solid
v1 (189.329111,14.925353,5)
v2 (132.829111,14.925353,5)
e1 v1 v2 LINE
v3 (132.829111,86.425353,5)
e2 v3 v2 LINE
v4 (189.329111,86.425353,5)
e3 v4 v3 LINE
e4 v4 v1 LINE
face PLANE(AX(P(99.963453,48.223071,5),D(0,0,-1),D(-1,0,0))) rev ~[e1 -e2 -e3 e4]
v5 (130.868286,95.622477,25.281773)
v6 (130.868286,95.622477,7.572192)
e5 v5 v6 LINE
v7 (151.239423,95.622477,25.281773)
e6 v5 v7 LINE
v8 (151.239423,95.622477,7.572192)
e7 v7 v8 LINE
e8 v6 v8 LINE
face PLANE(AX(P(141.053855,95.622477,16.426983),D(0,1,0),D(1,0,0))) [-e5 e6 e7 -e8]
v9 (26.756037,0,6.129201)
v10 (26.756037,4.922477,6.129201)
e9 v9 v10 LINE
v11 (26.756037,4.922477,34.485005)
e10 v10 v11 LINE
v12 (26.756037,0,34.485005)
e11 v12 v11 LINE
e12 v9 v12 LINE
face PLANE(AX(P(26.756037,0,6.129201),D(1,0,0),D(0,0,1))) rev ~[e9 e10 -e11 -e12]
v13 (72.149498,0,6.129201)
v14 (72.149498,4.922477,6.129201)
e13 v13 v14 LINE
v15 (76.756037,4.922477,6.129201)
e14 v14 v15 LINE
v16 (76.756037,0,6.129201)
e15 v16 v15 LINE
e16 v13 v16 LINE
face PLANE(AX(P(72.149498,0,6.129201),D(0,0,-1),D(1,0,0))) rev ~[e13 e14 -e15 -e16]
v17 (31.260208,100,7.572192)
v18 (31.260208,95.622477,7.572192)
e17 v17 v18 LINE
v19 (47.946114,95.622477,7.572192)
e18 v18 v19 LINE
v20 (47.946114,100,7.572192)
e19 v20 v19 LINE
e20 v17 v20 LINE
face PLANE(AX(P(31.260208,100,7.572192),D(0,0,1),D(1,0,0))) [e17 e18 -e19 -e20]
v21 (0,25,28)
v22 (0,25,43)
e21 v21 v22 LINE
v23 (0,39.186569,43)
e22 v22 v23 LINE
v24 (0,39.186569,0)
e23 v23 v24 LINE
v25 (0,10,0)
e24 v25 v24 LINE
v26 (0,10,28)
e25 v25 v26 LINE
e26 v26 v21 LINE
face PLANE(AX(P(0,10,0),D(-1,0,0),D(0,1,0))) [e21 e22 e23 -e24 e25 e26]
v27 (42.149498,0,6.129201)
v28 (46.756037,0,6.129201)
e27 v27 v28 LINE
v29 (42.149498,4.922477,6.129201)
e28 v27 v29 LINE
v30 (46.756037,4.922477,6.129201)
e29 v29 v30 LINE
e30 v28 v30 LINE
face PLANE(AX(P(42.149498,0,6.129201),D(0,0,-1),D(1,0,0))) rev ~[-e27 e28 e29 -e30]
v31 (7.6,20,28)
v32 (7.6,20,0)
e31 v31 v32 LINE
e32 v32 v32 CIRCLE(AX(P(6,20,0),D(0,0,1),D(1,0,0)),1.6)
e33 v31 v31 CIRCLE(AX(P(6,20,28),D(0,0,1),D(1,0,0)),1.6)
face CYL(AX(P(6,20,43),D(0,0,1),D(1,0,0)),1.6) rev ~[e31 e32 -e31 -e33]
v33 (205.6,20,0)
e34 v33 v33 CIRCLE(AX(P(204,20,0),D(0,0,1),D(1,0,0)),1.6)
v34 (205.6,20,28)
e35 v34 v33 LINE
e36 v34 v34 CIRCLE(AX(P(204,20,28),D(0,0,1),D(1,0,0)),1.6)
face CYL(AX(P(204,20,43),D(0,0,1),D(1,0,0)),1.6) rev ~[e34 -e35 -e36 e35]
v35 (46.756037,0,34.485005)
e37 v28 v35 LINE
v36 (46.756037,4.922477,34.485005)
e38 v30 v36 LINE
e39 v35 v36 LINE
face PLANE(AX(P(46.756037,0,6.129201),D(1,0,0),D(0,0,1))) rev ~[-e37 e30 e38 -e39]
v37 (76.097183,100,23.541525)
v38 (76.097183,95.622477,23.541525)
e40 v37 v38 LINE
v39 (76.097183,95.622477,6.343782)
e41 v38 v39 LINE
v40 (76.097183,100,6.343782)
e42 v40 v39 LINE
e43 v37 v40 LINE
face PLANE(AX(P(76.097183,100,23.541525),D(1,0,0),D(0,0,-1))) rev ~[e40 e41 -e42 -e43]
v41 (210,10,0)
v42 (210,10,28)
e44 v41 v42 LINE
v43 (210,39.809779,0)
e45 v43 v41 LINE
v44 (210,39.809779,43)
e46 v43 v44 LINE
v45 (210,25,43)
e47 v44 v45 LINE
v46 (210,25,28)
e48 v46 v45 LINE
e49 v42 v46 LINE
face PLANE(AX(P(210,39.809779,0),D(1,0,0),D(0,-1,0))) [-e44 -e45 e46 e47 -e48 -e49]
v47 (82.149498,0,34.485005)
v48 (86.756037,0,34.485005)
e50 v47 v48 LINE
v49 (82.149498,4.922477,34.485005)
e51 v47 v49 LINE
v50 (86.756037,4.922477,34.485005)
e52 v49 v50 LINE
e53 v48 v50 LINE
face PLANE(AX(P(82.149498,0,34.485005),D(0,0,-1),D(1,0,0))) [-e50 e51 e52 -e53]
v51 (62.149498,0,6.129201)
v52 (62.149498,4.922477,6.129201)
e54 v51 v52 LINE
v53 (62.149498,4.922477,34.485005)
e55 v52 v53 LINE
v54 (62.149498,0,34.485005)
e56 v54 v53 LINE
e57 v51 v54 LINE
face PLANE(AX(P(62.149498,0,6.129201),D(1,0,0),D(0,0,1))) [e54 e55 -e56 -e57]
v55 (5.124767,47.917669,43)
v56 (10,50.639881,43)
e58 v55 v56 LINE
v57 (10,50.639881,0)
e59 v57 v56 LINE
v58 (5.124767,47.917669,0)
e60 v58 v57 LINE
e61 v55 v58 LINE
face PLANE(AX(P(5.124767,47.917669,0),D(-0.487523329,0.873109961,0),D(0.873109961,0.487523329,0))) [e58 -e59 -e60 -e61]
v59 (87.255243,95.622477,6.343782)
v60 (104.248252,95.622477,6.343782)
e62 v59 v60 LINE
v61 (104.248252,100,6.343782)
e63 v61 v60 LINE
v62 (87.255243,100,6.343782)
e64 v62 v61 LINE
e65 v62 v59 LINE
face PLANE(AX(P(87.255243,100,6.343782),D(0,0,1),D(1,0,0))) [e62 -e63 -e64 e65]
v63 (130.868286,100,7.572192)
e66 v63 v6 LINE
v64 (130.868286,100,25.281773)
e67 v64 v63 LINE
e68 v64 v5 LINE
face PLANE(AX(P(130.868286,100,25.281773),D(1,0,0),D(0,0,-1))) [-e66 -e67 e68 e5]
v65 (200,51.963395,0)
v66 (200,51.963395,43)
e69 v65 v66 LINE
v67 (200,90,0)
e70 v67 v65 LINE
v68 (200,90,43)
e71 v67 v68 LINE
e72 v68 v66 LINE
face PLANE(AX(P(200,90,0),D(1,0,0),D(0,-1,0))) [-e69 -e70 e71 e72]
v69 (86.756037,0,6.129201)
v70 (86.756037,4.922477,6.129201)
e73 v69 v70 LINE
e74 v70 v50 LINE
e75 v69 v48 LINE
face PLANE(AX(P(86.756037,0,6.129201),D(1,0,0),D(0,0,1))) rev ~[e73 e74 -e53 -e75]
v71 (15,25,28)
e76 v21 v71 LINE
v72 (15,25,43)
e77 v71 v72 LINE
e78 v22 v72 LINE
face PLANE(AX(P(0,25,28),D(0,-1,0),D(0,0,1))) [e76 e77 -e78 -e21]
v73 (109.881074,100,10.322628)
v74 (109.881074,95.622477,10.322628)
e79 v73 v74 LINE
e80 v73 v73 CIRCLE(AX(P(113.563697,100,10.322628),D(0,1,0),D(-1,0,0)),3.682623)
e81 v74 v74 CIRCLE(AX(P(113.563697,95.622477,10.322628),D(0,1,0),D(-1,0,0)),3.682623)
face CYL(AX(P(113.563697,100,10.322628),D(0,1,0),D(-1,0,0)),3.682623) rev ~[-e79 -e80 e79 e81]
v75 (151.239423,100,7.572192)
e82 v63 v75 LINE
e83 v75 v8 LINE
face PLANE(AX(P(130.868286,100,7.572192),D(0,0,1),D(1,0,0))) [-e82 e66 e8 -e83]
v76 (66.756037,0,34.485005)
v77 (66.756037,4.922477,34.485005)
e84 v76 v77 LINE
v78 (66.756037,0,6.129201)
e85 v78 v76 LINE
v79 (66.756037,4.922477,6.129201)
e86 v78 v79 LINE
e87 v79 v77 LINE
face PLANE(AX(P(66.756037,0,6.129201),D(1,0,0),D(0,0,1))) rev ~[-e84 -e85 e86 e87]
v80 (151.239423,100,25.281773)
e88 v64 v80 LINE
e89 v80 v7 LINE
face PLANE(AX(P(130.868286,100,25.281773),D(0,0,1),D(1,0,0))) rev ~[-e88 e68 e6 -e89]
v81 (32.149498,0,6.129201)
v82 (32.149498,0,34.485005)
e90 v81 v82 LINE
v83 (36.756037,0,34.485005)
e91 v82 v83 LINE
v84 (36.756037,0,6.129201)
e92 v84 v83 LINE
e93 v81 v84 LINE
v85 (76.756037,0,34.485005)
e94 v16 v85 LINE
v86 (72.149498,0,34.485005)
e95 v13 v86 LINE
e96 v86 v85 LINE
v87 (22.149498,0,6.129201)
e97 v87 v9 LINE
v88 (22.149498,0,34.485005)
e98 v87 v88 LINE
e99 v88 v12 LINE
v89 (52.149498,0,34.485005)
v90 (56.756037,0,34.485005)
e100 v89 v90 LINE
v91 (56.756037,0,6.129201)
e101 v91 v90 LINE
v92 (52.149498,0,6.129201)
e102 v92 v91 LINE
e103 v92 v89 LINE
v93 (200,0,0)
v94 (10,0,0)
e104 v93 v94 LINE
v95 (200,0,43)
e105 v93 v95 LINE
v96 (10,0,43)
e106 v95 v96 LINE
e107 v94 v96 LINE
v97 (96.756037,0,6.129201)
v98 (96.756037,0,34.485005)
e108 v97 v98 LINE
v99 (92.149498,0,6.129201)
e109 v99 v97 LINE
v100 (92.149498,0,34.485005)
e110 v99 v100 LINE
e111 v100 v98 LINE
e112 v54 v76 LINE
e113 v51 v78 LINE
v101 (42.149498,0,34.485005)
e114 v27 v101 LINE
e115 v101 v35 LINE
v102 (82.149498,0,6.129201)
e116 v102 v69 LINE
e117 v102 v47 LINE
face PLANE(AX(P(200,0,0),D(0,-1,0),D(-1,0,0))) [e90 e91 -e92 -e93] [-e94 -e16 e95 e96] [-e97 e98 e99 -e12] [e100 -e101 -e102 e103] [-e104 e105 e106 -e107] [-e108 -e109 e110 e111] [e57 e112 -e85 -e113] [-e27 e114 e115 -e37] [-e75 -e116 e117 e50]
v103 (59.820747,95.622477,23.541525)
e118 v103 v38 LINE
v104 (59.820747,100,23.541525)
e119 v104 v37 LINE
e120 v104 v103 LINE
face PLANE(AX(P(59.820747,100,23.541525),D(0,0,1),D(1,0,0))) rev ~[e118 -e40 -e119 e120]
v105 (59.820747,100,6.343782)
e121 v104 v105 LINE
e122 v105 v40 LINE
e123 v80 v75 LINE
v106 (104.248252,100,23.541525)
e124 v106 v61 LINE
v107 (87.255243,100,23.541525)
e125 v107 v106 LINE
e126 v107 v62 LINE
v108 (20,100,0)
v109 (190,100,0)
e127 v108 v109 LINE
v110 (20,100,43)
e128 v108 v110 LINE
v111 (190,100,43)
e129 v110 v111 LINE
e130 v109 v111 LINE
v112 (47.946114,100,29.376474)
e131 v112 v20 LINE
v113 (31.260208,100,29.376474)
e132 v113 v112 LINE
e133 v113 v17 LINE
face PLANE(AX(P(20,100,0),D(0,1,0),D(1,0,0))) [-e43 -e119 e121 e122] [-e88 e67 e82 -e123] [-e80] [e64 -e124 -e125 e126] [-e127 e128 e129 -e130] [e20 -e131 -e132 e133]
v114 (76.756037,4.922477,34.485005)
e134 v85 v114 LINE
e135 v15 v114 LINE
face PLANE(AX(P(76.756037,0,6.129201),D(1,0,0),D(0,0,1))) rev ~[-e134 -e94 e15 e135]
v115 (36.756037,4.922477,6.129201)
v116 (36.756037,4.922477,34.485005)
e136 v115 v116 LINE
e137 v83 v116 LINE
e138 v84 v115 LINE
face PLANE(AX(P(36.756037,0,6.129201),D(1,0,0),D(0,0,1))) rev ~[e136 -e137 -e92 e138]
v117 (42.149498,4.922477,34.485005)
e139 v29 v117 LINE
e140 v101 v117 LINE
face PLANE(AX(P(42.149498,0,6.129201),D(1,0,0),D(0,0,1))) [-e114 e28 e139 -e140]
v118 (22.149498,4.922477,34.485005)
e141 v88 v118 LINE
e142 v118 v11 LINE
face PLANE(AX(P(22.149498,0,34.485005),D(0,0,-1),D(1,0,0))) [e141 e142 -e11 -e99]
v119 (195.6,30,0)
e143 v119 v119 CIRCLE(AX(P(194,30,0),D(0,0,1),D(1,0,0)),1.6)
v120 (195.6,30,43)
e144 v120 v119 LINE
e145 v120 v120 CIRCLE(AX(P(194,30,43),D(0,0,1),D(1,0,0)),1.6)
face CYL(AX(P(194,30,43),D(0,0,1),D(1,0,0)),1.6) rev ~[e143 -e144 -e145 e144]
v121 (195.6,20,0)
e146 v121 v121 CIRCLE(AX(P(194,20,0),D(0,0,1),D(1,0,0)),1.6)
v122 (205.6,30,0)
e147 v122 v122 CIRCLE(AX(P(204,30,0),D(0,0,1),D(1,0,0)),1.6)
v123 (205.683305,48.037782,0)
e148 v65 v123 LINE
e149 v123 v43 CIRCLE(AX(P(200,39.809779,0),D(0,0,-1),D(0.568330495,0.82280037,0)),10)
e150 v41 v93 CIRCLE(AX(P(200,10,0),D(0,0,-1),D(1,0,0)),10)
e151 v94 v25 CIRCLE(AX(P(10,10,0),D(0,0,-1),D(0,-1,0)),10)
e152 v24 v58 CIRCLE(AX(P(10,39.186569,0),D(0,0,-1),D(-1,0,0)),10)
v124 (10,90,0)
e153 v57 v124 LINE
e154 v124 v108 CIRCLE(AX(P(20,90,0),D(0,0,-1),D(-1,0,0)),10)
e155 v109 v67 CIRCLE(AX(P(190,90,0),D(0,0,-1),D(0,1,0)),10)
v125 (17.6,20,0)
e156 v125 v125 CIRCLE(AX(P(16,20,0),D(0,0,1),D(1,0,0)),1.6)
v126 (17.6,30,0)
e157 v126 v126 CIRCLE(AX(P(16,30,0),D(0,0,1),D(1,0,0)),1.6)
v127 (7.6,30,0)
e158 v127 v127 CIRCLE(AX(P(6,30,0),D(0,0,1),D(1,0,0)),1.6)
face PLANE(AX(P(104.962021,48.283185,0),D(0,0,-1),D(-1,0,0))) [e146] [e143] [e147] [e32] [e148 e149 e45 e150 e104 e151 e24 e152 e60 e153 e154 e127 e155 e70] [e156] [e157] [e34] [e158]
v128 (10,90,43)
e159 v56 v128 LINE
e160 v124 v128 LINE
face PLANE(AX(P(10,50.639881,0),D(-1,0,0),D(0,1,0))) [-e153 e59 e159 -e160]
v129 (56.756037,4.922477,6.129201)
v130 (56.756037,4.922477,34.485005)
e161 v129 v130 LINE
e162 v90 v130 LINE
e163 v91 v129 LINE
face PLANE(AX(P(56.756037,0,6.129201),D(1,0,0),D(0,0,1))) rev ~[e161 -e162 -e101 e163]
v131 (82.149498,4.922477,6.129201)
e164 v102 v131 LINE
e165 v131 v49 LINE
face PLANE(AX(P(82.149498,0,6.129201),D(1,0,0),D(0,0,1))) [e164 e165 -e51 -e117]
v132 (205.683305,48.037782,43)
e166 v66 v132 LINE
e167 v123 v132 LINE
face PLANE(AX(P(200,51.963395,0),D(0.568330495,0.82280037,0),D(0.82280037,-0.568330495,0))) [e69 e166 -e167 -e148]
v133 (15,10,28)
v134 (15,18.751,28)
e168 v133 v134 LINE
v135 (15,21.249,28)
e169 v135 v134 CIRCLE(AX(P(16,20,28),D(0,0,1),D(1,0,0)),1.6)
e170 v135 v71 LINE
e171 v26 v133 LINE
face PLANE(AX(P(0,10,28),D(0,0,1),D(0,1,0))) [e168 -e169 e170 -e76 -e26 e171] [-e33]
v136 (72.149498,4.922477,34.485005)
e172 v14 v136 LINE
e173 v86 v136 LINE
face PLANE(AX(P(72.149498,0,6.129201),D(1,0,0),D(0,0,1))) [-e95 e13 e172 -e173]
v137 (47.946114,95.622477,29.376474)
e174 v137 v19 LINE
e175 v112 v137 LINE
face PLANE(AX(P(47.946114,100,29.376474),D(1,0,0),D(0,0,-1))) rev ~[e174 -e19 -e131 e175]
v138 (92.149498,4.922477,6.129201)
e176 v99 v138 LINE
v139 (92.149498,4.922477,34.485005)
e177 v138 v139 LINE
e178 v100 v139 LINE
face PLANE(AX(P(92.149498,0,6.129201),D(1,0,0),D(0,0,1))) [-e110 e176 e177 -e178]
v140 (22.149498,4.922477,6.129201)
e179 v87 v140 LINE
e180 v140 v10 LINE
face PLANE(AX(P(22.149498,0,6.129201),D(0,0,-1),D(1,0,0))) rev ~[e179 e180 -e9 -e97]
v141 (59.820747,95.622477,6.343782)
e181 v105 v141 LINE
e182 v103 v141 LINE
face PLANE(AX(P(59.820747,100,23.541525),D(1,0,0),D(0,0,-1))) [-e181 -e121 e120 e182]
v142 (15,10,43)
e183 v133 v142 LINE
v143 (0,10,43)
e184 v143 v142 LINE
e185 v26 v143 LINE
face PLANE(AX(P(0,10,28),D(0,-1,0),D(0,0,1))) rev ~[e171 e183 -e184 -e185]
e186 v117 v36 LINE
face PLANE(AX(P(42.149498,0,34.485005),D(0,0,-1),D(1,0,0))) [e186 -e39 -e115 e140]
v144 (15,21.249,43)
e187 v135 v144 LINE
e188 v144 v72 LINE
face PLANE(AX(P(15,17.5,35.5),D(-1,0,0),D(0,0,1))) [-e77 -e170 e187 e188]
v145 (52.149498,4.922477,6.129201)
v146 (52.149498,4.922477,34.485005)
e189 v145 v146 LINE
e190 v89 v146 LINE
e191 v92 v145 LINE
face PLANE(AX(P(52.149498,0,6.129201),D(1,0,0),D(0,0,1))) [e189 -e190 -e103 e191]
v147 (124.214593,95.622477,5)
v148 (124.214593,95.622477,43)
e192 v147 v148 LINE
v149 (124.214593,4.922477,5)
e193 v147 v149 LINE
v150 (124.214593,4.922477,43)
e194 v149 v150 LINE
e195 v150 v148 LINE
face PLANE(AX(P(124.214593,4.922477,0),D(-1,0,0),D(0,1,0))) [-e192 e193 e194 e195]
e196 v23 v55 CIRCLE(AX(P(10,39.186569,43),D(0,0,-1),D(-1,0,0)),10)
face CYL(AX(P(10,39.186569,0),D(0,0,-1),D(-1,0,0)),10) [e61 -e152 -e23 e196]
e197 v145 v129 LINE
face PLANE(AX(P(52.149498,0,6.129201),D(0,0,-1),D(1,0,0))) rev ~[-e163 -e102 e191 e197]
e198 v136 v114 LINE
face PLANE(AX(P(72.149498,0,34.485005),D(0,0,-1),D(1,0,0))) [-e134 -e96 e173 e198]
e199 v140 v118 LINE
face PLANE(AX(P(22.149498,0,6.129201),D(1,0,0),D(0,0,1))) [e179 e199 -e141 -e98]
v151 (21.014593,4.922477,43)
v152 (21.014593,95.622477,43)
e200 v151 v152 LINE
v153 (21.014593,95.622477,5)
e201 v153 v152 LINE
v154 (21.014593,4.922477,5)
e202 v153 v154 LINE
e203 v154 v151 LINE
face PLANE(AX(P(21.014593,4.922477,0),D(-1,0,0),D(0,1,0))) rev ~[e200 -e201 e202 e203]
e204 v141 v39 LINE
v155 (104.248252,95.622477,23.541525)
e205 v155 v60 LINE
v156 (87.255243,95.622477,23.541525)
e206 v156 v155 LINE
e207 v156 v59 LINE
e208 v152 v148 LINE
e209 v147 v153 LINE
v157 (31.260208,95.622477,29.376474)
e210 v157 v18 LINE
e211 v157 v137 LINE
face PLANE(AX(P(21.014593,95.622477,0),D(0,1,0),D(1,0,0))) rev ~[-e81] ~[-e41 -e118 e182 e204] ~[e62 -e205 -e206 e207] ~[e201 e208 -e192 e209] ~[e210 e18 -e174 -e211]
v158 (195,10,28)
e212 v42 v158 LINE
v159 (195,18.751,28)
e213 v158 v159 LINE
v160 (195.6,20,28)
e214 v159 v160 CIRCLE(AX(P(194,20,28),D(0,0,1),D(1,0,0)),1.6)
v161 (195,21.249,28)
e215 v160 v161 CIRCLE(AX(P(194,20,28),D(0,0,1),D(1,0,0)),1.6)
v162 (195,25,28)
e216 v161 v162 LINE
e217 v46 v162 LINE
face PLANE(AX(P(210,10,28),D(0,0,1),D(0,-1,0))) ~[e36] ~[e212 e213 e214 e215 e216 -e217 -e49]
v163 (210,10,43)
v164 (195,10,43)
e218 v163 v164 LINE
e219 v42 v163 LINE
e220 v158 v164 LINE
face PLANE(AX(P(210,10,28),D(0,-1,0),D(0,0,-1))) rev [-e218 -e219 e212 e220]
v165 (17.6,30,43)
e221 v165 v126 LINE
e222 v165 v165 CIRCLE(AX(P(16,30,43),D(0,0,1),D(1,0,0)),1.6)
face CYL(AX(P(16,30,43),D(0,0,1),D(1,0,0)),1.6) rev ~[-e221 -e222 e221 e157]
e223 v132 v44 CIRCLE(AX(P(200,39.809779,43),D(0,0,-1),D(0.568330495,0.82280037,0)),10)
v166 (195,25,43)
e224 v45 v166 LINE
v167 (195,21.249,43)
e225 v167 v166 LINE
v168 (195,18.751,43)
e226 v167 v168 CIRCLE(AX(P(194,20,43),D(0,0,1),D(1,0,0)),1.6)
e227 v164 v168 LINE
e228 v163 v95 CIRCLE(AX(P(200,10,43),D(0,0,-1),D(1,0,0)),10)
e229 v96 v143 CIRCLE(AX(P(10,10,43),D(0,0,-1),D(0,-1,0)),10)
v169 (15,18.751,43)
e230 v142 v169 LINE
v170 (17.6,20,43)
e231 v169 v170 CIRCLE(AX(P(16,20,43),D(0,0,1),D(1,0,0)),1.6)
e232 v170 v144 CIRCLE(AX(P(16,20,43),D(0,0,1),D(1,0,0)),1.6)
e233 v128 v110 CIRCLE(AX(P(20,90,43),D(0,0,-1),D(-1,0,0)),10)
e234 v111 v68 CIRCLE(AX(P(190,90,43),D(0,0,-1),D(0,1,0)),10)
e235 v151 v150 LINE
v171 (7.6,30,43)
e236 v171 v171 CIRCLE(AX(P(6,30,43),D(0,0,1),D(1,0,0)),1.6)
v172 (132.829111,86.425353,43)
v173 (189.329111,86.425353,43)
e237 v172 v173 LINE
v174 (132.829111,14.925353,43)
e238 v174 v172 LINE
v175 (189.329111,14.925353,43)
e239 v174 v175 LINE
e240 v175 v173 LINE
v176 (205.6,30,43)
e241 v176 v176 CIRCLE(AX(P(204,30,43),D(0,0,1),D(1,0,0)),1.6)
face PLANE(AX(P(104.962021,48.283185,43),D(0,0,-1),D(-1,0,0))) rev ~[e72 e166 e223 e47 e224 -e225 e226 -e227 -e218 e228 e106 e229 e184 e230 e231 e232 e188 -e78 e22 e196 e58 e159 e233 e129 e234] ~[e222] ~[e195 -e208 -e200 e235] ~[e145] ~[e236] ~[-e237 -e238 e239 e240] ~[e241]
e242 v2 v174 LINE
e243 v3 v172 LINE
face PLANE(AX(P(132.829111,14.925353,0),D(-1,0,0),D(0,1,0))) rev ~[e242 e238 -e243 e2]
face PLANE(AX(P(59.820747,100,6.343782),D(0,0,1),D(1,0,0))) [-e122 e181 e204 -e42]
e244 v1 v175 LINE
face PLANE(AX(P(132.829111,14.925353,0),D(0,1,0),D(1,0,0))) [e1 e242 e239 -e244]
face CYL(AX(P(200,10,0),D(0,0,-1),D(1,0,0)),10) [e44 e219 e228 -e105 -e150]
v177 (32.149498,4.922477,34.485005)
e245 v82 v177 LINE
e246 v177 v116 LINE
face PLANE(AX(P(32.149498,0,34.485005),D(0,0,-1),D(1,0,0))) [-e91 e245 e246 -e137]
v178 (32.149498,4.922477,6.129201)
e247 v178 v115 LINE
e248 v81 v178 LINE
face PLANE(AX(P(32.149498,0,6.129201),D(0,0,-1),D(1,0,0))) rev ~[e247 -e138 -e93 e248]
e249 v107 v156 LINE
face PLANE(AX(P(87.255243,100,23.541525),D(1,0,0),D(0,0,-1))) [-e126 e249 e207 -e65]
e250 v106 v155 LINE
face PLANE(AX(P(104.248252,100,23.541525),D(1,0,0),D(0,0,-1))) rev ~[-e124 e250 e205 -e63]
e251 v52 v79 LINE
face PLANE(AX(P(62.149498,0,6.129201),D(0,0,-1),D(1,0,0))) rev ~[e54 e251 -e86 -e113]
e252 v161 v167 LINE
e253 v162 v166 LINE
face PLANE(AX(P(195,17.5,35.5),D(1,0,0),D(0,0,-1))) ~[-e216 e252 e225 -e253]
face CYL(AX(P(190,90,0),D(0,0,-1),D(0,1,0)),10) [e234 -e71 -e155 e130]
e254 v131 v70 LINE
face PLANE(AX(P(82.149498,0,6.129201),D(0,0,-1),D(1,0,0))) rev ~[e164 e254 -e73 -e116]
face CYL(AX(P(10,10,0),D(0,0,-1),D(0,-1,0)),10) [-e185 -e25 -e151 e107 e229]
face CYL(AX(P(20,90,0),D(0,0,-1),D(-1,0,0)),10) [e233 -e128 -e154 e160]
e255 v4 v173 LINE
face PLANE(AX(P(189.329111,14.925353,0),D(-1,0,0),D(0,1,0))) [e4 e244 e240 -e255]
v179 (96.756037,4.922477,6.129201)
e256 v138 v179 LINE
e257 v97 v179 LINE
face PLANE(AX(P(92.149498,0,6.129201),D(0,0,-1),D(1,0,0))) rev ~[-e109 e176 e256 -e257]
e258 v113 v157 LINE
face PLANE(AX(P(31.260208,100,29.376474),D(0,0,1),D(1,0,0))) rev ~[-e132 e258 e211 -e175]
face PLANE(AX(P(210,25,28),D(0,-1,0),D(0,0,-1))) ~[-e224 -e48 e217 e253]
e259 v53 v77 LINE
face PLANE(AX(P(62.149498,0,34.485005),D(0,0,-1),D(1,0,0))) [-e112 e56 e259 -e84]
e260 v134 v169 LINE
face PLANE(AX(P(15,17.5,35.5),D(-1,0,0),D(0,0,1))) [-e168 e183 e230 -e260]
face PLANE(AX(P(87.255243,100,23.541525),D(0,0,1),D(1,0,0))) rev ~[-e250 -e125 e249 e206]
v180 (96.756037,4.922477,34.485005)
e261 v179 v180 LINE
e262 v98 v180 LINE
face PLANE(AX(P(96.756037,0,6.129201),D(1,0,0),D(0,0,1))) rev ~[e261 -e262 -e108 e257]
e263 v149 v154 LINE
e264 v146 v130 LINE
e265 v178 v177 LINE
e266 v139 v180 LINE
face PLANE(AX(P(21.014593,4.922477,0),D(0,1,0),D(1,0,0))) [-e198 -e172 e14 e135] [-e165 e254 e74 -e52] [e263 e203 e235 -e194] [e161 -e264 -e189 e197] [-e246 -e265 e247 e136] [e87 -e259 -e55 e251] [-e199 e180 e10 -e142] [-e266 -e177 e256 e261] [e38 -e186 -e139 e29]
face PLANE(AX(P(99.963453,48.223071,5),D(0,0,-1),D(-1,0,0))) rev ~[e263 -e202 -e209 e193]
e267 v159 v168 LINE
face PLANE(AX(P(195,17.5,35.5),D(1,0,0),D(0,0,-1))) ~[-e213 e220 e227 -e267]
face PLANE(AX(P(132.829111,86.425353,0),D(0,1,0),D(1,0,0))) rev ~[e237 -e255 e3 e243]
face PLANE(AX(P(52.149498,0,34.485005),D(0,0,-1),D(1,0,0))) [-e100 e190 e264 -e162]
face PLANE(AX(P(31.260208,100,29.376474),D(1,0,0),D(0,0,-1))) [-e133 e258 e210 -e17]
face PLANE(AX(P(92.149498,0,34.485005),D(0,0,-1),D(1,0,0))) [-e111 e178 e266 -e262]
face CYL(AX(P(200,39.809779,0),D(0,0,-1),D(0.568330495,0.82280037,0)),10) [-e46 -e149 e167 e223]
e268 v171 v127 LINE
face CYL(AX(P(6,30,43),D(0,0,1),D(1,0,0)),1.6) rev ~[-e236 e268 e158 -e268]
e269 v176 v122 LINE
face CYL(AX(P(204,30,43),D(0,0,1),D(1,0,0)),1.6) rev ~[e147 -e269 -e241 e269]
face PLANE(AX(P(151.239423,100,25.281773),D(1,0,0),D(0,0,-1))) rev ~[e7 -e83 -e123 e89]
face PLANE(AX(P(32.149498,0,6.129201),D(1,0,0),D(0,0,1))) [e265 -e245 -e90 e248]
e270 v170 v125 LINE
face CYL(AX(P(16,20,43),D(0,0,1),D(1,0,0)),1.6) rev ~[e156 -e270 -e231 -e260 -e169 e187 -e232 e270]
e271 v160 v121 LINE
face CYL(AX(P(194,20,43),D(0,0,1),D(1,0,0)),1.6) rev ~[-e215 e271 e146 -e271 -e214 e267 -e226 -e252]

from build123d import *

# Parameters (mm, degrees)
SKETCH_1_W          = 103.2
SKETCH_1_H          = 90.7
SKETCH_1_W_2        = 56.5
SKETCH_1_H_2        = 71.5
EXTRUDE_1_DEPTH     = 43
EXTRUDE_3_DEPTH     = 5
SKETCH_4_R          = 3.682623049
SKETCH_4_W          = 20.371137154
SKETCH_4_H          = 17.709581546
SKETCH_4_W_2        = 16.685906313
SKETCH_4_H_2        = 21.804282482
SKETCH_4_W_3        = 16.276436219
SKETCH_4_H_3        = 17.19774393
SKETCH_4_W_4        = 16.993008883
CUT_EXTRUDE_2_DEPTH = 4.377522815
SKETCH_5_W          = 4.606538552
SKETCH_5_H          = 28.355803979
CUT_EXTRUDE_3_DEPTH = 4.922477185
SKETCH_7_R          = 1.6
CUT_EXTRUDE_4_DEPTH = 237.535409611
SKETCH_8_W          = 15
SKETCH_8_H          = 15
CUT_EXTRUDE_5_DEPTH = 15


with BuildPart() as part:
    # 草图1 → 凸台-拉伸1 (new body)
    with BuildSketch(Plane.XY):
        with BuildLine():
            Line((0, 10), (0, 39.186569494))
            ThreePointArc((0, 39.186569494), (1.375838219, 44.248568464), (5.124766715, 47.917669105))
            Line((5.124766715, 47.917669105), (10, 50.639880584))
            Line((10, 50.639880584), (10, 90))
            ThreePointArc((10, 90), (12.928932188, 97.071067812), (20, 100))
            Line((20, 100), (190, 100))
            ThreePointArc((190, 100), (197.071067812, 97.071067812), (200, 90))
            Line((200, 90), (200, 51.963395008))
            Line((200, 51.963395008), (205.683304945, 48.037782396))
            ThreePointArc((205.683304945, 48.037782396), (208.855310538, 44.455580593), (210, 39.809778695))
            Line((210, 39.809778695), (210, 10))
            ThreePointArc((210, 10), (207.071067812, 2.928932188), (200, 0))
            Line((200, 0), (10, 0))
            ThreePointArc((10, 0), (2.928932188, 2.928932188), (0, 10))
        make_face()
        with Locations((72.614593403, 50.272477185)):
            Rectangle(SKETCH_1_W, SKETCH_1_H, mode=Mode.SUBTRACT)
        with Locations((161.079111209, 50.675353005)):
            Rectangle(SKETCH_1_W_2, SKETCH_1_H_2, mode=Mode.SUBTRACT)
    extrude(amount=EXTRUDE_1_DEPTH)

    # 草图3 → 凸台-拉伸3 (add)
    with BuildSketch(Plane.XY):
        with BuildLine():
            Line((0, 10), (0, 39.186569494))
            ThreePointArc((0, 39.186569494), (1.375838219, 44.248568464), (5.124766715, 47.917669105))
            Line((5.124766715, 47.917669105), (10, 50.639880584))
            Line((10, 50.639880584), (10, 90))
            ThreePointArc((10, 90), (12.928932188, 97.071067812), (20, 100))
            Line((20, 100), (180, 100))
            ThreePointArc((180, 100), (187.071067812, 97.071067812), (190, 90))
            Line((190, 90), (190, 51.963395008))
            Line((190, 51.963395008), (195.683304945, 48.037782396))
            ThreePointArc((195.683304945, 48.037782396), (198.855310538, 44.455580593), (200, 39.809778695))
            Line((200, 39.809778695), (200, 10))
            ThreePointArc((200, 10), (197.071067812, 2.928932188), (190, 0))
            Line((190, 0), (10, 0))
            ThreePointArc((10, 0), (2.928932188, 2.928932188), (0, 10))
        make_face()
    extrude(amount=EXTRUDE_3_DEPTH)

    # 草图4 → 切除-拉伸2 (cut)
    with BuildSketch(Plane(origin=(0, 100, 0), x_dir=(1, 0, 0), z_dir=(0, 1, 0))):
        with Locations(Location((113.563696849, -10.32262821, 0), (0, 0, 180))):
            Circle(SKETCH_4_R)
        with Locations((141.053854619, -16.426982565)):
            Rectangle(SKETCH_4_W, SKETCH_4_H)
        with Locations((39.603161201, -18.474333033)):
            Rectangle(SKETCH_4_W_2, SKETCH_4_H_2)
        with Locations((67.958965179, -14.942653476)):
            Rectangle(SKETCH_4_W_3, SKETCH_4_H_3)
        with Locations((95.751747779, -14.942653476)):
            Rectangle(SKETCH_4_W_4, SKETCH_4_H_3)
    extrude(amount=-CUT_EXTRUDE_2_DEPTH, mode=Mode.SUBTRACT)

    # 草图5 → 切除-拉伸3 (cut)
    with BuildSketch(Plane.XZ):
        with Locations((34.452767739, 20.30710257)):
            Rectangle(SKETCH_5_W, SKETCH_5_H)
        with Locations((24.452767739, 20.30710257)):
            Rectangle(SKETCH_5_W, SKETCH_5_H)
        with Locations((44.452767739, 20.30710257)):
            Rectangle(SKETCH_5_W, SKETCH_5_H)
        with Locations((54.452767739, 20.30710257)):
            Rectangle(SKETCH_5_W, SKETCH_5_H)
        with Locations((64.452767739, 20.30710257)):
            Rectangle(SKETCH_5_W, SKETCH_5_H)
        with Locations((74.452767739, 20.30710257)):
            Rectangle(SKETCH_5_W, SKETCH_5_H)
        with Locations((84.452767739, 20.30710257)):
            Rectangle(SKETCH_5_W, SKETCH_5_H)
        with Locations((94.452767739, 20.30710257)):
            Rectangle(SKETCH_5_W, SKETCH_5_H)
    extrude(amount=-CUT_EXTRUDE_3_DEPTH, mode=Mode.SUBTRACT)

    # 草图7 → 切除-拉伸4 (cut, through all)
    with BuildSketch(Plane.XY.offset(43)):
        with Locations((6, 30)):
            Circle(SKETCH_7_R)
        with Locations((16, 30)):
            Circle(SKETCH_7_R)
        with Locations((16, 20)):
            Circle(SKETCH_7_R)
        with Locations((6, 20)):
            Circle(SKETCH_7_R)
        with Locations((194, 30)):
            Circle(SKETCH_7_R)
        with Locations((204, 30)):
            Circle(SKETCH_7_R)
        with Locations((204, 20)):
            Circle(SKETCH_7_R)
        with Locations((194, 20)):
            Circle(SKETCH_7_R)
    extrude(amount=-CUT_EXTRUDE_4_DEPTH, mode=Mode.SUBTRACT)

    # 草图8 → 切除-拉伸5 (cut)
    with BuildSketch(Plane.ZY):
        with Locations((35.5, 17.5)):
            Rectangle(SKETCH_8_W, SKETCH_8_H)
    cut_extrude_5 = extrude(amount=-CUT_EXTRUDE_5_DEPTH, mode=Mode.SUBTRACT)

    # 镜向1: 切除-拉伸5 across plane
    add(cut_extrude_5.mirror(Plane.ZY.offset(-105)), mode=Mode.SUBTRACT)


solid = part.part
